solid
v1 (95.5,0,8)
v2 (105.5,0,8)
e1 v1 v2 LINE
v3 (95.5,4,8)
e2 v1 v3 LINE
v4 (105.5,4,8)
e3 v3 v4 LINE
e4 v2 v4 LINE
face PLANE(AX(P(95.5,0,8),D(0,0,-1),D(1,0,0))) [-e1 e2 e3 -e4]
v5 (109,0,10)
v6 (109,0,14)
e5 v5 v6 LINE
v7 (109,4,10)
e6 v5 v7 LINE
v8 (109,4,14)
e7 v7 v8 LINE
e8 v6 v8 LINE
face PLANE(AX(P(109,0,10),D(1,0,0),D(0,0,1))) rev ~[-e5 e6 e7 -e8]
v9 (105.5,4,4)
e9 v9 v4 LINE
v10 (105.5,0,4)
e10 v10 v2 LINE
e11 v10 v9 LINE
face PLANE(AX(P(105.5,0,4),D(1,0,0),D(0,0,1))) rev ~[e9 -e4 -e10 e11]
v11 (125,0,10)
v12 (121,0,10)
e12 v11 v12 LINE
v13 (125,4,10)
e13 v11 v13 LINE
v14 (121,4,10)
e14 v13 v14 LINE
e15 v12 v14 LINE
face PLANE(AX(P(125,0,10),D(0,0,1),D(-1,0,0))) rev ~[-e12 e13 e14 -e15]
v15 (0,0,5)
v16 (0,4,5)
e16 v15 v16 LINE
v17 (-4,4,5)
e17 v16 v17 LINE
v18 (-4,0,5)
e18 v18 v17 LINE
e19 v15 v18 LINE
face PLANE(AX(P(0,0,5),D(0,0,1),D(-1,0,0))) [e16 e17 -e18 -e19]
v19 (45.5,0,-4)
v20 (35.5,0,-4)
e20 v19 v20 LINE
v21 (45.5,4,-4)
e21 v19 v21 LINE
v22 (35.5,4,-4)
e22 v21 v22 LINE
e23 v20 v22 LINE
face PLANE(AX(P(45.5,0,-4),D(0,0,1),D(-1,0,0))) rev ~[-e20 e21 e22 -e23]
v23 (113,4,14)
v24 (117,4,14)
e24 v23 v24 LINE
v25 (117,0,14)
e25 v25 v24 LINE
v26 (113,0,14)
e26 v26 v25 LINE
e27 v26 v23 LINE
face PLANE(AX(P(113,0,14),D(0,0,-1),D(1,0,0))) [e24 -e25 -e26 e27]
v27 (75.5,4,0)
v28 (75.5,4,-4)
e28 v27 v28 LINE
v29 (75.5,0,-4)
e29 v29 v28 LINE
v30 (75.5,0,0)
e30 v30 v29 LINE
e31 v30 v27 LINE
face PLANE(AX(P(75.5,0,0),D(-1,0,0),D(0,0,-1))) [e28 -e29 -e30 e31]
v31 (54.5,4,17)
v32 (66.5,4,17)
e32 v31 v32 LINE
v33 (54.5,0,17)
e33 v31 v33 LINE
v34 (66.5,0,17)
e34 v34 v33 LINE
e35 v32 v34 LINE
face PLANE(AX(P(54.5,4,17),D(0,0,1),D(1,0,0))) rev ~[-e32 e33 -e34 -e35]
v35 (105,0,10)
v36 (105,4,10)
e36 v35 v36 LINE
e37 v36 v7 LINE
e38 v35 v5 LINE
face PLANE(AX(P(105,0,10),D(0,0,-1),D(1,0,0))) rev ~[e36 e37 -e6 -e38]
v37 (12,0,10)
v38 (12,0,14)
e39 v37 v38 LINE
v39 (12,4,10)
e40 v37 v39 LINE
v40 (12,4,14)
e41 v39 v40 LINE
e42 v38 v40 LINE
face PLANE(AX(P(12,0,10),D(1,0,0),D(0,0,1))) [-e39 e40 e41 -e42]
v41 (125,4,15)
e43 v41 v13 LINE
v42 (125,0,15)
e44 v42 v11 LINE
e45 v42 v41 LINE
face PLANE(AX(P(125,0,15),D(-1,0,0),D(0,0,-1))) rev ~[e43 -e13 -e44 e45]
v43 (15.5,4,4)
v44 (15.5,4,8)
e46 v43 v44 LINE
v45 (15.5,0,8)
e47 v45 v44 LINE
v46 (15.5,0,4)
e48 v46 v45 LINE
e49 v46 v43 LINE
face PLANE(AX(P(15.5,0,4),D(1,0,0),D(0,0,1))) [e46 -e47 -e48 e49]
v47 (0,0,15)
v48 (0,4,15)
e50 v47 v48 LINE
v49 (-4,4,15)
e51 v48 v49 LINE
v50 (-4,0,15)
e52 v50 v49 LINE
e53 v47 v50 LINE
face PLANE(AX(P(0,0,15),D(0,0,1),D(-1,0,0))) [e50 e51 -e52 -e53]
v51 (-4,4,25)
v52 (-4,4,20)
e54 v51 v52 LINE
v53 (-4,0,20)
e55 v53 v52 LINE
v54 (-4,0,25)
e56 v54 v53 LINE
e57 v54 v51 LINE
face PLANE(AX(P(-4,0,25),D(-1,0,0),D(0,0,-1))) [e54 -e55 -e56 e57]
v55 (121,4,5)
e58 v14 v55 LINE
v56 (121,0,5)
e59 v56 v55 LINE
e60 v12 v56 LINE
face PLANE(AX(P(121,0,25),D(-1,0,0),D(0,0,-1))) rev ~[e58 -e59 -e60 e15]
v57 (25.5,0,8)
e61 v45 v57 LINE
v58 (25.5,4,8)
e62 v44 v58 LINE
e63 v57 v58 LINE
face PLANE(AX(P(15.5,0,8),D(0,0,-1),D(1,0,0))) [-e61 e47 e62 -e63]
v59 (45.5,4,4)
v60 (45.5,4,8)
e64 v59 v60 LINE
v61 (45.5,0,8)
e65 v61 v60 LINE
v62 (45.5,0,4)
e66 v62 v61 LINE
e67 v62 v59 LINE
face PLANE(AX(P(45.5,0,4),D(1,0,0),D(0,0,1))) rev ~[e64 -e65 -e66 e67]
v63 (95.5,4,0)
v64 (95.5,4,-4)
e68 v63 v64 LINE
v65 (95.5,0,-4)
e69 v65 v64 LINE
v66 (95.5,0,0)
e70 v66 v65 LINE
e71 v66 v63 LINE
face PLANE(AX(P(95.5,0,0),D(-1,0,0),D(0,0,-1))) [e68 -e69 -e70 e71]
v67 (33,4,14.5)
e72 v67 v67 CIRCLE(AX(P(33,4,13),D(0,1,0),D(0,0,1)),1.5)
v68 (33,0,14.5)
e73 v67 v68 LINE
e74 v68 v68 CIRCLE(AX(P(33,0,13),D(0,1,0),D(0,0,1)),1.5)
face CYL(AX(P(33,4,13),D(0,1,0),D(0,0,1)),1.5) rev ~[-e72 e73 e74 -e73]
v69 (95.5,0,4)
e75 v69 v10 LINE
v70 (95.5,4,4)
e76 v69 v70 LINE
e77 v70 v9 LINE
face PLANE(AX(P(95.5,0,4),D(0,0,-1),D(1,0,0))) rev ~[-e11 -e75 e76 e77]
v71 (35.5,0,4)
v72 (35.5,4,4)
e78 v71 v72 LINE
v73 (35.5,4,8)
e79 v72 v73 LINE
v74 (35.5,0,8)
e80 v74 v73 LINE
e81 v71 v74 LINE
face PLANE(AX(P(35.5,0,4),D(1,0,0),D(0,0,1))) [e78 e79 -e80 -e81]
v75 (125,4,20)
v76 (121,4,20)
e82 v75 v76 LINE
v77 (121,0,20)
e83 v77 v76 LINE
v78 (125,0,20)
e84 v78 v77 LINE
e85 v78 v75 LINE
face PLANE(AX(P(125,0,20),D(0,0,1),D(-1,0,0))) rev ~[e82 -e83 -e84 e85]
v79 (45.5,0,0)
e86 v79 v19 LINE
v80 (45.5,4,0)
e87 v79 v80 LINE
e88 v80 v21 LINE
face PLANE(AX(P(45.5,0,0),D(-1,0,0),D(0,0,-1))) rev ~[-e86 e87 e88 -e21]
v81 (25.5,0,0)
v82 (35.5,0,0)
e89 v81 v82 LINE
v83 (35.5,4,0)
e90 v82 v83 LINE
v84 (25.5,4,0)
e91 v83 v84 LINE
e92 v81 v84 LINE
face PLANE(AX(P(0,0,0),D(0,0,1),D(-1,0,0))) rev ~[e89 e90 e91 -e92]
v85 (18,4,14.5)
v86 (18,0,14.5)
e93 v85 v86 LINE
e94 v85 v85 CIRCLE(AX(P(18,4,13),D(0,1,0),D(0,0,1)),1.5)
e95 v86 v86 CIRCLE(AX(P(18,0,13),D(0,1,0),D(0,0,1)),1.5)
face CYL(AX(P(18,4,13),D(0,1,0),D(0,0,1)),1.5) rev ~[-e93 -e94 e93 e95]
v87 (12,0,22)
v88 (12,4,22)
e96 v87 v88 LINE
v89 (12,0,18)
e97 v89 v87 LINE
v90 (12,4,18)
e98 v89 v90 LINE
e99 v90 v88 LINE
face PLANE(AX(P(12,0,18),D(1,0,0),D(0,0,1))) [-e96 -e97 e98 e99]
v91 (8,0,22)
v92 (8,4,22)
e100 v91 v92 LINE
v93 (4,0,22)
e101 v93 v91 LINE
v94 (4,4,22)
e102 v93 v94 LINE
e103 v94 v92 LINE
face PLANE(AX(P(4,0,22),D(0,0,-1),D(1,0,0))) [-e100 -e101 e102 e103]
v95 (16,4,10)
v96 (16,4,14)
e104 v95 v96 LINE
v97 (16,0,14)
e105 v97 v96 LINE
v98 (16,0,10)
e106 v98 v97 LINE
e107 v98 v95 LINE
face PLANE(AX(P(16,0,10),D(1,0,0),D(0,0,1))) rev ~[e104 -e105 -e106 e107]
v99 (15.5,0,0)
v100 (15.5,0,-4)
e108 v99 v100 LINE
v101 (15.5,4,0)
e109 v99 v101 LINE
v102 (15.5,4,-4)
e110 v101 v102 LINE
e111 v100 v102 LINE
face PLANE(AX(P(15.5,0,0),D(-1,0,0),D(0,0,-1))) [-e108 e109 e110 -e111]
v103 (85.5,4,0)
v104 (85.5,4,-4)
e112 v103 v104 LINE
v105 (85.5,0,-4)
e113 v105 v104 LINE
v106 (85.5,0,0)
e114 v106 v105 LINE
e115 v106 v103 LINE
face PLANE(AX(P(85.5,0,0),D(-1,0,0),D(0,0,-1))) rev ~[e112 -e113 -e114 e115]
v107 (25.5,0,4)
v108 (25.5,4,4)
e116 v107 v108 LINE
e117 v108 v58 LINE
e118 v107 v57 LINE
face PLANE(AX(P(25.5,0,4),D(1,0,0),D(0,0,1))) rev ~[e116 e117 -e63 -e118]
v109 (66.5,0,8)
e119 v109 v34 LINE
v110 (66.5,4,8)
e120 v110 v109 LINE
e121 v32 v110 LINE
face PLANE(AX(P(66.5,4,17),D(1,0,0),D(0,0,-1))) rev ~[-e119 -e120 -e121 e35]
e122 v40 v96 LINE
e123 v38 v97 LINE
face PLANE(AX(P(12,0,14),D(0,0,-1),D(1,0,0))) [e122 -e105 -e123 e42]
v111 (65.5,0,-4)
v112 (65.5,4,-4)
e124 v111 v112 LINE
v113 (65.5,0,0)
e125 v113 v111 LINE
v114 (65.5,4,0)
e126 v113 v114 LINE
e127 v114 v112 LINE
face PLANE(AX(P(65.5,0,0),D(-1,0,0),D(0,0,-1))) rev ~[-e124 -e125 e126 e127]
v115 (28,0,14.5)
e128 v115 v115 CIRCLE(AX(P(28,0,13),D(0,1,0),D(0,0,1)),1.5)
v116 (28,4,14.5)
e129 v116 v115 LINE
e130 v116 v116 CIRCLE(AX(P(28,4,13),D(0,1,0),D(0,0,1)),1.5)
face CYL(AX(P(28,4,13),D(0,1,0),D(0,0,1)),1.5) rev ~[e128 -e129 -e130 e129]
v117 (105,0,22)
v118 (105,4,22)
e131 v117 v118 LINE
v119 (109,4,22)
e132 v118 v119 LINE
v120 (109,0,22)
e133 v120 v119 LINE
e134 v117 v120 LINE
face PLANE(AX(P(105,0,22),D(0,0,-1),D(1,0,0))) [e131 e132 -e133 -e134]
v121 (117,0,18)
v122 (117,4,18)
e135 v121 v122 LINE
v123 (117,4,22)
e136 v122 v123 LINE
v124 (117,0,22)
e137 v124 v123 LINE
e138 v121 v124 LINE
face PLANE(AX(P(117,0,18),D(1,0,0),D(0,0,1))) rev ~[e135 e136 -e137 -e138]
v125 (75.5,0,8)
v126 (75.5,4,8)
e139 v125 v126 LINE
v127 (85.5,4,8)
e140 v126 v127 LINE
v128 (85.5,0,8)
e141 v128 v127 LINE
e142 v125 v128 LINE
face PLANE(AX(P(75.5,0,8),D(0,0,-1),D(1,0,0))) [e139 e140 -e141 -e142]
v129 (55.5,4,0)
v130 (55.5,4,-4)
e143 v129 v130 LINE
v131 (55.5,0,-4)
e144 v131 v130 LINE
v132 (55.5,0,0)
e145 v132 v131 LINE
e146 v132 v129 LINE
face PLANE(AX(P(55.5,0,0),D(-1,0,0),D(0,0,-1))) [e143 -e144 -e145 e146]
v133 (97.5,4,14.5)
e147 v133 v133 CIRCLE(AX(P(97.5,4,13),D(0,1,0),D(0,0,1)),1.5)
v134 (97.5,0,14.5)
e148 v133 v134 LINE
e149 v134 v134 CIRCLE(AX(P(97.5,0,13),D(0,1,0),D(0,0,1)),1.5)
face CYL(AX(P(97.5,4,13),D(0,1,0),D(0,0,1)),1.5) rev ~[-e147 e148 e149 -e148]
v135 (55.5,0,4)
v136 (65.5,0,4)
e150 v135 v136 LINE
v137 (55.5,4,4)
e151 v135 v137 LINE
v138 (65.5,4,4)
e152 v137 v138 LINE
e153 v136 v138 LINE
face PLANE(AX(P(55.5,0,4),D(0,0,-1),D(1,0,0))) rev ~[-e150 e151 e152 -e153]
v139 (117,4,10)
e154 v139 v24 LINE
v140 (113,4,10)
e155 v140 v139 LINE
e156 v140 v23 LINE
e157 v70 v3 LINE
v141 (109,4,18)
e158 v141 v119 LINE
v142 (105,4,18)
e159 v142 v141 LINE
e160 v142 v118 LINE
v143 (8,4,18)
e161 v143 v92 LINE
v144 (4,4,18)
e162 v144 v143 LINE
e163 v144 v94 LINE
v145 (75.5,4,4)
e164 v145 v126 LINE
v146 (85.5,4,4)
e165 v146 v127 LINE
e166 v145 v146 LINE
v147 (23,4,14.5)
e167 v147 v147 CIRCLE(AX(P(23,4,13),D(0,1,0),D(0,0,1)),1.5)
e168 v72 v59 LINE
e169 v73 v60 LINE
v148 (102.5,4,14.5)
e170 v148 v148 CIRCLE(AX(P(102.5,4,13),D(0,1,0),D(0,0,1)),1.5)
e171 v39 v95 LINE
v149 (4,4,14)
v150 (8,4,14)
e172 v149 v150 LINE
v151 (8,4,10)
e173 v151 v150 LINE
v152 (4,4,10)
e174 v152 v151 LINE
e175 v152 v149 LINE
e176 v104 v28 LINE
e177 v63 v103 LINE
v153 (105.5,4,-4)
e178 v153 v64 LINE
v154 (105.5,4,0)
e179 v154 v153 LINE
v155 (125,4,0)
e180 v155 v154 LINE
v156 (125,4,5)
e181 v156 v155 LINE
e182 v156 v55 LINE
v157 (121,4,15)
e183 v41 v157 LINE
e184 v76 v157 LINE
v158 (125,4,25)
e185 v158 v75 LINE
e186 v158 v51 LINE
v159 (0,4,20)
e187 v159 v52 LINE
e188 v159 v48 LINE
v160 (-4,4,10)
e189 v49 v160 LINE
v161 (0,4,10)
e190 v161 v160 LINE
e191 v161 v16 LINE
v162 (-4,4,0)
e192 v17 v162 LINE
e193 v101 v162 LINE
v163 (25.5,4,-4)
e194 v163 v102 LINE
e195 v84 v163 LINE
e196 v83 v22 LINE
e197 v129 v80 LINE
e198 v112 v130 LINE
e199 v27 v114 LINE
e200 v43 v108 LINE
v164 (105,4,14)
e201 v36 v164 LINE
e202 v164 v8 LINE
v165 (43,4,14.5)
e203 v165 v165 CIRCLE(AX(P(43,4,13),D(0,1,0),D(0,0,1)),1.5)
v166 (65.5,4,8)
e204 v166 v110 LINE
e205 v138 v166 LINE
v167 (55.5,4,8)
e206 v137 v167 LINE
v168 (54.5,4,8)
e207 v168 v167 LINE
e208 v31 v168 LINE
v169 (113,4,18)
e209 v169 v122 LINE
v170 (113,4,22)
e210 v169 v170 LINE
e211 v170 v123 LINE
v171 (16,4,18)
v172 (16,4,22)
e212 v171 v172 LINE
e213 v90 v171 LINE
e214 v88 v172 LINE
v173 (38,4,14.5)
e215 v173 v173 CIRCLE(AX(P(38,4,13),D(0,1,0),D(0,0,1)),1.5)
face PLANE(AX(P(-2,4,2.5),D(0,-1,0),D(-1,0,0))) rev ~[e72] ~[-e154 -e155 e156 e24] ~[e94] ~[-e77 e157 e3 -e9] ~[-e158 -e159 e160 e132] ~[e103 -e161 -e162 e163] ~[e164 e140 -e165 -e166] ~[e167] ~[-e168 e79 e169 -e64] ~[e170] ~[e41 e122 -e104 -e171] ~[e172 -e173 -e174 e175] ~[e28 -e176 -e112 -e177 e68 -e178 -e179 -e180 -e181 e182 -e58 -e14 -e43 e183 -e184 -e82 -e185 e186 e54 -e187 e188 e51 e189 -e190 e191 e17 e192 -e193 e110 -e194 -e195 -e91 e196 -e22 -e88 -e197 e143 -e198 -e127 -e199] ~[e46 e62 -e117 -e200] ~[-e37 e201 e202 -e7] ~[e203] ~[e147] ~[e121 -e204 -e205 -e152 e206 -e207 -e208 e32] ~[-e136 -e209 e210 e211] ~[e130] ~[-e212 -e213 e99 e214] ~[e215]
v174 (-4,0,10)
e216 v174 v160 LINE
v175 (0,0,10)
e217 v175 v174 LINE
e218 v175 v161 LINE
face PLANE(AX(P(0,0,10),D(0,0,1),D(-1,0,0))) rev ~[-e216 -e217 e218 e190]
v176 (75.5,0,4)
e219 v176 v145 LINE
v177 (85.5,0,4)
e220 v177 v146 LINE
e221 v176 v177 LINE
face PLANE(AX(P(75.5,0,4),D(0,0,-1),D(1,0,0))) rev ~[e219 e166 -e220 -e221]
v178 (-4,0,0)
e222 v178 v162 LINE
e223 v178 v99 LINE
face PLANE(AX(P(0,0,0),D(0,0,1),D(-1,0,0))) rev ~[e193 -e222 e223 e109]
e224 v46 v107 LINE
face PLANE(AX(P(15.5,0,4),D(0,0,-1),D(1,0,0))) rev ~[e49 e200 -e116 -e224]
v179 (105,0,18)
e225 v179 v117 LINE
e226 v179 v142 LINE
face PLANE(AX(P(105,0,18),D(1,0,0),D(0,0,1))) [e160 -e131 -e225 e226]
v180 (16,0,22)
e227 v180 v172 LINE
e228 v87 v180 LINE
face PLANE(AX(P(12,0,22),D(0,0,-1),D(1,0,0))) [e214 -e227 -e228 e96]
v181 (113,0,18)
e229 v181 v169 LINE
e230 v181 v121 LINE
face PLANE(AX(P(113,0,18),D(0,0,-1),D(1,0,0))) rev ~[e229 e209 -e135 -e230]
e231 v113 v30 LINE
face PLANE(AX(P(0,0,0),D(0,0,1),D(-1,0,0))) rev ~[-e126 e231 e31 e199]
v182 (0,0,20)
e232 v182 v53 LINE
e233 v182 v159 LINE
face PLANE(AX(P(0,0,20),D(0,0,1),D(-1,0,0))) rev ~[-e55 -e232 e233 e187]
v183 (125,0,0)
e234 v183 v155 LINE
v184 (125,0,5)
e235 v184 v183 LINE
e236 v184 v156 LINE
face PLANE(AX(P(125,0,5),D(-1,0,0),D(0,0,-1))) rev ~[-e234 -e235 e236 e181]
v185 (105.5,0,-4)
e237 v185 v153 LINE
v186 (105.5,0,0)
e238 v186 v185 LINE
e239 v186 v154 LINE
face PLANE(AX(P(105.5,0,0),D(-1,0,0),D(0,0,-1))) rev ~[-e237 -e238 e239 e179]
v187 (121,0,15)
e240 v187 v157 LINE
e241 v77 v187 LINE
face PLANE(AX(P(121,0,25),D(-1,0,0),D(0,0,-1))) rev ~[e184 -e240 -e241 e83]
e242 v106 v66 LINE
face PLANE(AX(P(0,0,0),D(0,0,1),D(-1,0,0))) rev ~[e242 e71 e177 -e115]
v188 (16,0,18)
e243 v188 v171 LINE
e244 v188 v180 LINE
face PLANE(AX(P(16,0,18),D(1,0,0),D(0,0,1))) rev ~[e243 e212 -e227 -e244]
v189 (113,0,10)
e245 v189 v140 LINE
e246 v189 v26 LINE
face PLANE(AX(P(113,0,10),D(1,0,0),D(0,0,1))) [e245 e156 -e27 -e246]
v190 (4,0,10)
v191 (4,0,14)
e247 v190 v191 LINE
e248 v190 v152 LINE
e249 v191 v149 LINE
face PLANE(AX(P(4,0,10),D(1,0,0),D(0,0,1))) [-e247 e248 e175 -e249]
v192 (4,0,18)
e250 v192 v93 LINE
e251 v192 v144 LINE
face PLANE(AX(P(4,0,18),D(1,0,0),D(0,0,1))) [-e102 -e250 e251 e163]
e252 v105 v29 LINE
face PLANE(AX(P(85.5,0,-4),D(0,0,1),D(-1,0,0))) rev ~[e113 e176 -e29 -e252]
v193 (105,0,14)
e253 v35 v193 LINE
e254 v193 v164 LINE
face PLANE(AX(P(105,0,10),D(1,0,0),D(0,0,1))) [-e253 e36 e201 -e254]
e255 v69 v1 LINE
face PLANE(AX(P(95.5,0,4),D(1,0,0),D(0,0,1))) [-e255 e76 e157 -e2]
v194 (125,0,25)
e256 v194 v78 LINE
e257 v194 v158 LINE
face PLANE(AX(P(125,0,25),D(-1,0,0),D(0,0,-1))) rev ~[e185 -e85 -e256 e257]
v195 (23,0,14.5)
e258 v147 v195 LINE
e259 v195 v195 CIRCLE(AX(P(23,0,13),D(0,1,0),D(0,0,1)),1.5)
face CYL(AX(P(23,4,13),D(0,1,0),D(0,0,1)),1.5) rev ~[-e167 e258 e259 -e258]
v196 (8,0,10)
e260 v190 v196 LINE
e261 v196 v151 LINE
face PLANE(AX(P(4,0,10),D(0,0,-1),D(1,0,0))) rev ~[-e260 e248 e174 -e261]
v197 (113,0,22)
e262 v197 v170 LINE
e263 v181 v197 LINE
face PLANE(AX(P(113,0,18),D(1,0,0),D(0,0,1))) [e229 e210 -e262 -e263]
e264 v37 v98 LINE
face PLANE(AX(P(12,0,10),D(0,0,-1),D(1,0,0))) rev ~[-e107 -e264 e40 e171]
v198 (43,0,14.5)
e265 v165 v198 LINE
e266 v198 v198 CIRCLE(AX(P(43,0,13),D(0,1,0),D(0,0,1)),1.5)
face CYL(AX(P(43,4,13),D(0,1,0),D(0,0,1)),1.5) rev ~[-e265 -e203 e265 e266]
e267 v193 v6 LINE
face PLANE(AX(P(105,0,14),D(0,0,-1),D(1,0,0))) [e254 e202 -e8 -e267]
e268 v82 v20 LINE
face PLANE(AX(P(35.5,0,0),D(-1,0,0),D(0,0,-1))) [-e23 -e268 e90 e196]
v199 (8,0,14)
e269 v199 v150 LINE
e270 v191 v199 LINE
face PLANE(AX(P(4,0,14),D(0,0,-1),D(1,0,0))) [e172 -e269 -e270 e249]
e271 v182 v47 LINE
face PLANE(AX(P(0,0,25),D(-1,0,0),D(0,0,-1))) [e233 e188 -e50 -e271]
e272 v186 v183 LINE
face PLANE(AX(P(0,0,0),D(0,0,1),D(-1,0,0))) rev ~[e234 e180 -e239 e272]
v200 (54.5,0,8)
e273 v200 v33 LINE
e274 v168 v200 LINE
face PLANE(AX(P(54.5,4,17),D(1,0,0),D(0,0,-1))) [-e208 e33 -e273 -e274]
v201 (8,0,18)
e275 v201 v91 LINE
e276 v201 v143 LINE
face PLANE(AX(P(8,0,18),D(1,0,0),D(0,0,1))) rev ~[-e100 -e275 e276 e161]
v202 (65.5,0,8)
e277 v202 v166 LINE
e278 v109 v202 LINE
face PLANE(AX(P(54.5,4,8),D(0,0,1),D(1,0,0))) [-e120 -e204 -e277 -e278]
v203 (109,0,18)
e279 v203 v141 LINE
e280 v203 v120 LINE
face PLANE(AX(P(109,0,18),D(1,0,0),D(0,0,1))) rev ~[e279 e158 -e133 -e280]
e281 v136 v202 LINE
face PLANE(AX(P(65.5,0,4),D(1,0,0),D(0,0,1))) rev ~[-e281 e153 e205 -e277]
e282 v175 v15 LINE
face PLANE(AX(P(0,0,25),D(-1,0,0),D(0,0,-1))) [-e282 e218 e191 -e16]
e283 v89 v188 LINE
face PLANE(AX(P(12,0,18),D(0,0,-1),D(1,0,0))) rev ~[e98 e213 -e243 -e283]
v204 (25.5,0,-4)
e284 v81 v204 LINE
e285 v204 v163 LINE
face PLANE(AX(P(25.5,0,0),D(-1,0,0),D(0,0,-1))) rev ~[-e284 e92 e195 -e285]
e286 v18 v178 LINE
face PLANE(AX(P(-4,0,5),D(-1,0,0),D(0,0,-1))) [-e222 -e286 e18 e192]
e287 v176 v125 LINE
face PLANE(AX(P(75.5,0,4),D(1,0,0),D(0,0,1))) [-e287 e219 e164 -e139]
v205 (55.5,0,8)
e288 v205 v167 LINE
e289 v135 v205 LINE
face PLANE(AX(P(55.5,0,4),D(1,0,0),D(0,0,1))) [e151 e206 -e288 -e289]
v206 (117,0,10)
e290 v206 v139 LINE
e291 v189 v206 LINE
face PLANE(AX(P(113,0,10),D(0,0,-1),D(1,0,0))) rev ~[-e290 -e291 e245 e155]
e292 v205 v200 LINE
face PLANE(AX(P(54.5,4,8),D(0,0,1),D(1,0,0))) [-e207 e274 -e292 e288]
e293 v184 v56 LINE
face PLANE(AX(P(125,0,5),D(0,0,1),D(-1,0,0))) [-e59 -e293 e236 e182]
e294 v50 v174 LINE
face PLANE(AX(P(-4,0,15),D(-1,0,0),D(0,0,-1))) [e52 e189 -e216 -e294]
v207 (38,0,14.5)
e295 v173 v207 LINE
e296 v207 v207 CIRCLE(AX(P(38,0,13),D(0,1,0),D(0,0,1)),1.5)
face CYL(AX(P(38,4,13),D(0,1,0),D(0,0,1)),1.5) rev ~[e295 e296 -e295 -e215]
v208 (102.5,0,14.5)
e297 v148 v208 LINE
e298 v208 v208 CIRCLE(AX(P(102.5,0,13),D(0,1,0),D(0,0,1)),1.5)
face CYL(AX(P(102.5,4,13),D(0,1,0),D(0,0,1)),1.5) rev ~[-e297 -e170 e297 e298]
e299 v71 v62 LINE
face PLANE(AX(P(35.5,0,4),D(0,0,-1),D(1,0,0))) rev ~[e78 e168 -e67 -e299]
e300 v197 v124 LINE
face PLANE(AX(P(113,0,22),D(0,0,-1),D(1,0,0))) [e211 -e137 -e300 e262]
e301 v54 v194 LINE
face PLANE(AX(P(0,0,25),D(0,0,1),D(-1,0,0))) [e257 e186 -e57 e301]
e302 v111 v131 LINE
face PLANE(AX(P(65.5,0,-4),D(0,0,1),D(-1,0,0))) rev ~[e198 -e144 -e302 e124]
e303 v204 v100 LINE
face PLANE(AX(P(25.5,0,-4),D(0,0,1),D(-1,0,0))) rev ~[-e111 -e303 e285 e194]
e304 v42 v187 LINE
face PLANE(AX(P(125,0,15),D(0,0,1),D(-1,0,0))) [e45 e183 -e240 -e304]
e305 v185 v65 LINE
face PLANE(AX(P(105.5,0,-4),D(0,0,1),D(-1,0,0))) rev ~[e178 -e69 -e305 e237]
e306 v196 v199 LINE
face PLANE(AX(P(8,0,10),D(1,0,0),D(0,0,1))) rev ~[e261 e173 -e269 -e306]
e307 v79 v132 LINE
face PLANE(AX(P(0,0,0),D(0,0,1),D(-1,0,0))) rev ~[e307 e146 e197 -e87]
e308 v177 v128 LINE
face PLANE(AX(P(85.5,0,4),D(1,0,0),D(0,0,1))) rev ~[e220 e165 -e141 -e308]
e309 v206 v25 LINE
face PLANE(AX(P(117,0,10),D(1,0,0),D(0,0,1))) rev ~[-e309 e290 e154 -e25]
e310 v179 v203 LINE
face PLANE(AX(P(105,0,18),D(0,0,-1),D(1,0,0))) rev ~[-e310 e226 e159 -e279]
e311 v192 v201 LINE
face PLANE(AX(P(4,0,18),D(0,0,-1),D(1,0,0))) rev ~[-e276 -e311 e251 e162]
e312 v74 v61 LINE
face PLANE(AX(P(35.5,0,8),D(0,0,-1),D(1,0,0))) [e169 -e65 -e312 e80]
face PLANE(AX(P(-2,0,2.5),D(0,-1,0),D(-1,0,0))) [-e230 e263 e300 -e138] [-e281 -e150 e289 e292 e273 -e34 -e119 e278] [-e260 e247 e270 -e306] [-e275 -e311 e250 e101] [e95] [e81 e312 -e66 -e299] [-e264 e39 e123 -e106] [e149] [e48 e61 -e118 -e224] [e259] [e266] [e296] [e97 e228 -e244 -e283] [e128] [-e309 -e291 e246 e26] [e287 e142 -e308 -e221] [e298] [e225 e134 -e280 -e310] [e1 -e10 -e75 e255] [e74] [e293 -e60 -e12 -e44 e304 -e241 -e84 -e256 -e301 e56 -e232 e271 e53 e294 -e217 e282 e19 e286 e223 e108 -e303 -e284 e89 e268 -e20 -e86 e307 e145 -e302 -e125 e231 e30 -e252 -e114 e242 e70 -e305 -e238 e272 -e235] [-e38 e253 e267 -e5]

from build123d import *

# Parameters (mm, degrees)
SKETCH1_W           = 121
SKETCH1_H           = 25
BOSS_EXTRUDE1_DEPTH = 4
SKETCH2_W           = 4
SKETCH2_H           = 5
BOSS_EXTRUDE2_DEPTH = 4
LPATTERN1_COUNT     = 3
LPATTERN1_PITCH     = 10
SKETCH3_W           = 10
SKETCH3_H           = 4
BOSS_EXTRUDE3_DEPTH = 4
LPATTERN2_COUNT     = 3
LPATTERN2_PITCH     = 20
LPATTERN2_COL_COUNT = 3
LPATTERN2_COL_PITCH = 20
SKETCH4_W           = 10
SKETCH4_H           = 4
CUT_EXTRUDE1_DEPTH  = 128.538229563
SKETCH5_R           = 1.5
SKETCH5_W           = 12
SKETCH5_H           = 9
CUT_EXTRUDE2_DEPTH  = 128.538229563
SKETCH7_W           = 4
SKETCH7_H           = 4
CUT_EXTRUDE4_DEPTH  = 128.538229563


with BuildPart() as part:
    # Sketch1 → Boss-Extrude1 (new body)
    with BuildSketch(Plane(origin=(0, 0, 0), x_dir=(1, 0, 0), z_dir=(0, 1, 0))):
        with Locations((60.5, -12.5)):
            Rectangle(SKETCH1_W, SKETCH1_H)
    extrude(amount=BOSS_EXTRUDE1_DEPTH)

    # Sketch2 → Boss-Extrude2 (add, through all)
    with BuildSketch(Plane(origin=(0, 0, 0), x_dir=(-1, 0, 0), z_dir=(0, -1, 0))):
        with Locations((2, -22.5)):
            Rectangle(SKETCH2_W, SKETCH2_H)
        with Locations((-123, -22.5)):
            Rectangle(SKETCH2_W, SKETCH2_H)
    boss_extrude2 = extrude(amount=-BOSS_EXTRUDE2_DEPTH)

    # LPattern1: Boss-Extrude2 ×3
    with Locations(*[(0, 0, -i * LPATTERN1_PITCH) for i in range(1, LPATTERN1_COUNT)]):
        add(boss_extrude2)

    # Sketch3 → Boss-Extrude3 (add, through all)
    with BuildSketch(Plane(origin=(0, 0, 0), x_dir=(-1, 0, 0), z_dir=(0, -1, 0))):
        with Locations((-60.5, 2)):
            Rectangle(SKETCH3_W, SKETCH3_H)
    boss_extrude3 = extrude(amount=-BOSS_EXTRUDE3_DEPTH)

    # LPattern2: Boss-Extrude3 ×3
    with Locations(*[(i * LPATTERN2_PITCH, 0, 0) for i in range(1, LPATTERN2_COUNT)]):
        add(boss_extrude3)

    # LPattern2 col: Boss-Extrude3 ×3
    with Locations(*[(-i * LPATTERN2_COL_PITCH, 0, 0) for i in range(1, LPATTERN2_COL_COUNT)]):
        add(boss_extrude3)

    # Sketch4 → Cut-Extrude1 (cut, through all)
    with BuildSketch(Plane.XZ):
        with Locations((20.5, 6)):
            Rectangle(SKETCH4_W, SKETCH4_H)
        with Locations((40.5, 6)):
            Rectangle(SKETCH4_W, SKETCH4_H)
        with Locations((60.5, 6)):
            Rectangle(SKETCH4_W, SKETCH4_H)
        with Locations((80.5, 6)):
            Rectangle(SKETCH4_W, SKETCH4_H)
        with Locations((100.5, 6)):
            Rectangle(SKETCH4_W, SKETCH4_H)
    extrude(amount=-CUT_EXTRUDE1_DEPTH, mode=Mode.SUBTRACT)

    # Sketch5 → Cut-Extrude2 (cut, through all)
    with BuildSketch(Plane(origin=(0, 4, 0), x_dir=(1, 0, 0), z_dir=(0, 1, 0))):
        with Locations(Location((97.5, -13, 0), (0, 0, 270))):
            Circle(SKETCH5_R)
        with Locations(Location((102.5, -13, 0), (0, 0, 270))):
            Circle(SKETCH5_R)
        with Locations(Location((43, -13, 0), (0, 0, 270))):
            Circle(SKETCH5_R)
        with Locations(Location((38, -13, 0), (0, 0, 270))):
            Circle(SKETCH5_R)
        with Locations(Location((33, -13, 0), (0, 0, 270))):
            Circle(SKETCH5_R)
        with Locations(Location((28, -13, 0), (0, 0, 270))):
            Circle(SKETCH5_R)
        with Locations(Location((23, -13, 0), (0, 0, 270))):
            Circle(SKETCH5_R)
        with Locations(Location((18, -13, 0), (0, 0, 270))):
            Circle(SKETCH5_R)
        with Locations((60.5, -12.5)):
            Rectangle(SKETCH5_W, SKETCH5_H)
    extrude(amount=-CUT_EXTRUDE2_DEPTH, mode=Mode.SUBTRACT)

    # Sketch7 → Cut-Extrude4 (cut, through all)
    with BuildSketch(Plane.XZ):
        with Locations((6, 20)):
            Rectangle(SKETCH7_W, SKETCH7_H)
        with Locations((14, 20)):
            Rectangle(SKETCH7_W, SKETCH7_H)
        with Locations((6, 12)):
            Rectangle(SKETCH7_W, SKETCH7_H)
        with Locations((14, 12)):
            Rectangle(SKETCH7_W, SKETCH7_H)
        with Locations((107, 20)):
            Rectangle(SKETCH7_W, SKETCH7_H)
        with Locations((107, 12)):
            Rectangle(SKETCH7_W, SKETCH7_H)
        with Locations((115, 20)):
            Rectangle(SKETCH7_W, SKETCH7_H)
        with Locations((115, 12)):
            Rectangle(SKETCH7_W, SKETCH7_H)
    extrude(amount=-CUT_EXTRUDE4_DEPTH, mode=Mode.SUBTRACT)


solid = part.part
